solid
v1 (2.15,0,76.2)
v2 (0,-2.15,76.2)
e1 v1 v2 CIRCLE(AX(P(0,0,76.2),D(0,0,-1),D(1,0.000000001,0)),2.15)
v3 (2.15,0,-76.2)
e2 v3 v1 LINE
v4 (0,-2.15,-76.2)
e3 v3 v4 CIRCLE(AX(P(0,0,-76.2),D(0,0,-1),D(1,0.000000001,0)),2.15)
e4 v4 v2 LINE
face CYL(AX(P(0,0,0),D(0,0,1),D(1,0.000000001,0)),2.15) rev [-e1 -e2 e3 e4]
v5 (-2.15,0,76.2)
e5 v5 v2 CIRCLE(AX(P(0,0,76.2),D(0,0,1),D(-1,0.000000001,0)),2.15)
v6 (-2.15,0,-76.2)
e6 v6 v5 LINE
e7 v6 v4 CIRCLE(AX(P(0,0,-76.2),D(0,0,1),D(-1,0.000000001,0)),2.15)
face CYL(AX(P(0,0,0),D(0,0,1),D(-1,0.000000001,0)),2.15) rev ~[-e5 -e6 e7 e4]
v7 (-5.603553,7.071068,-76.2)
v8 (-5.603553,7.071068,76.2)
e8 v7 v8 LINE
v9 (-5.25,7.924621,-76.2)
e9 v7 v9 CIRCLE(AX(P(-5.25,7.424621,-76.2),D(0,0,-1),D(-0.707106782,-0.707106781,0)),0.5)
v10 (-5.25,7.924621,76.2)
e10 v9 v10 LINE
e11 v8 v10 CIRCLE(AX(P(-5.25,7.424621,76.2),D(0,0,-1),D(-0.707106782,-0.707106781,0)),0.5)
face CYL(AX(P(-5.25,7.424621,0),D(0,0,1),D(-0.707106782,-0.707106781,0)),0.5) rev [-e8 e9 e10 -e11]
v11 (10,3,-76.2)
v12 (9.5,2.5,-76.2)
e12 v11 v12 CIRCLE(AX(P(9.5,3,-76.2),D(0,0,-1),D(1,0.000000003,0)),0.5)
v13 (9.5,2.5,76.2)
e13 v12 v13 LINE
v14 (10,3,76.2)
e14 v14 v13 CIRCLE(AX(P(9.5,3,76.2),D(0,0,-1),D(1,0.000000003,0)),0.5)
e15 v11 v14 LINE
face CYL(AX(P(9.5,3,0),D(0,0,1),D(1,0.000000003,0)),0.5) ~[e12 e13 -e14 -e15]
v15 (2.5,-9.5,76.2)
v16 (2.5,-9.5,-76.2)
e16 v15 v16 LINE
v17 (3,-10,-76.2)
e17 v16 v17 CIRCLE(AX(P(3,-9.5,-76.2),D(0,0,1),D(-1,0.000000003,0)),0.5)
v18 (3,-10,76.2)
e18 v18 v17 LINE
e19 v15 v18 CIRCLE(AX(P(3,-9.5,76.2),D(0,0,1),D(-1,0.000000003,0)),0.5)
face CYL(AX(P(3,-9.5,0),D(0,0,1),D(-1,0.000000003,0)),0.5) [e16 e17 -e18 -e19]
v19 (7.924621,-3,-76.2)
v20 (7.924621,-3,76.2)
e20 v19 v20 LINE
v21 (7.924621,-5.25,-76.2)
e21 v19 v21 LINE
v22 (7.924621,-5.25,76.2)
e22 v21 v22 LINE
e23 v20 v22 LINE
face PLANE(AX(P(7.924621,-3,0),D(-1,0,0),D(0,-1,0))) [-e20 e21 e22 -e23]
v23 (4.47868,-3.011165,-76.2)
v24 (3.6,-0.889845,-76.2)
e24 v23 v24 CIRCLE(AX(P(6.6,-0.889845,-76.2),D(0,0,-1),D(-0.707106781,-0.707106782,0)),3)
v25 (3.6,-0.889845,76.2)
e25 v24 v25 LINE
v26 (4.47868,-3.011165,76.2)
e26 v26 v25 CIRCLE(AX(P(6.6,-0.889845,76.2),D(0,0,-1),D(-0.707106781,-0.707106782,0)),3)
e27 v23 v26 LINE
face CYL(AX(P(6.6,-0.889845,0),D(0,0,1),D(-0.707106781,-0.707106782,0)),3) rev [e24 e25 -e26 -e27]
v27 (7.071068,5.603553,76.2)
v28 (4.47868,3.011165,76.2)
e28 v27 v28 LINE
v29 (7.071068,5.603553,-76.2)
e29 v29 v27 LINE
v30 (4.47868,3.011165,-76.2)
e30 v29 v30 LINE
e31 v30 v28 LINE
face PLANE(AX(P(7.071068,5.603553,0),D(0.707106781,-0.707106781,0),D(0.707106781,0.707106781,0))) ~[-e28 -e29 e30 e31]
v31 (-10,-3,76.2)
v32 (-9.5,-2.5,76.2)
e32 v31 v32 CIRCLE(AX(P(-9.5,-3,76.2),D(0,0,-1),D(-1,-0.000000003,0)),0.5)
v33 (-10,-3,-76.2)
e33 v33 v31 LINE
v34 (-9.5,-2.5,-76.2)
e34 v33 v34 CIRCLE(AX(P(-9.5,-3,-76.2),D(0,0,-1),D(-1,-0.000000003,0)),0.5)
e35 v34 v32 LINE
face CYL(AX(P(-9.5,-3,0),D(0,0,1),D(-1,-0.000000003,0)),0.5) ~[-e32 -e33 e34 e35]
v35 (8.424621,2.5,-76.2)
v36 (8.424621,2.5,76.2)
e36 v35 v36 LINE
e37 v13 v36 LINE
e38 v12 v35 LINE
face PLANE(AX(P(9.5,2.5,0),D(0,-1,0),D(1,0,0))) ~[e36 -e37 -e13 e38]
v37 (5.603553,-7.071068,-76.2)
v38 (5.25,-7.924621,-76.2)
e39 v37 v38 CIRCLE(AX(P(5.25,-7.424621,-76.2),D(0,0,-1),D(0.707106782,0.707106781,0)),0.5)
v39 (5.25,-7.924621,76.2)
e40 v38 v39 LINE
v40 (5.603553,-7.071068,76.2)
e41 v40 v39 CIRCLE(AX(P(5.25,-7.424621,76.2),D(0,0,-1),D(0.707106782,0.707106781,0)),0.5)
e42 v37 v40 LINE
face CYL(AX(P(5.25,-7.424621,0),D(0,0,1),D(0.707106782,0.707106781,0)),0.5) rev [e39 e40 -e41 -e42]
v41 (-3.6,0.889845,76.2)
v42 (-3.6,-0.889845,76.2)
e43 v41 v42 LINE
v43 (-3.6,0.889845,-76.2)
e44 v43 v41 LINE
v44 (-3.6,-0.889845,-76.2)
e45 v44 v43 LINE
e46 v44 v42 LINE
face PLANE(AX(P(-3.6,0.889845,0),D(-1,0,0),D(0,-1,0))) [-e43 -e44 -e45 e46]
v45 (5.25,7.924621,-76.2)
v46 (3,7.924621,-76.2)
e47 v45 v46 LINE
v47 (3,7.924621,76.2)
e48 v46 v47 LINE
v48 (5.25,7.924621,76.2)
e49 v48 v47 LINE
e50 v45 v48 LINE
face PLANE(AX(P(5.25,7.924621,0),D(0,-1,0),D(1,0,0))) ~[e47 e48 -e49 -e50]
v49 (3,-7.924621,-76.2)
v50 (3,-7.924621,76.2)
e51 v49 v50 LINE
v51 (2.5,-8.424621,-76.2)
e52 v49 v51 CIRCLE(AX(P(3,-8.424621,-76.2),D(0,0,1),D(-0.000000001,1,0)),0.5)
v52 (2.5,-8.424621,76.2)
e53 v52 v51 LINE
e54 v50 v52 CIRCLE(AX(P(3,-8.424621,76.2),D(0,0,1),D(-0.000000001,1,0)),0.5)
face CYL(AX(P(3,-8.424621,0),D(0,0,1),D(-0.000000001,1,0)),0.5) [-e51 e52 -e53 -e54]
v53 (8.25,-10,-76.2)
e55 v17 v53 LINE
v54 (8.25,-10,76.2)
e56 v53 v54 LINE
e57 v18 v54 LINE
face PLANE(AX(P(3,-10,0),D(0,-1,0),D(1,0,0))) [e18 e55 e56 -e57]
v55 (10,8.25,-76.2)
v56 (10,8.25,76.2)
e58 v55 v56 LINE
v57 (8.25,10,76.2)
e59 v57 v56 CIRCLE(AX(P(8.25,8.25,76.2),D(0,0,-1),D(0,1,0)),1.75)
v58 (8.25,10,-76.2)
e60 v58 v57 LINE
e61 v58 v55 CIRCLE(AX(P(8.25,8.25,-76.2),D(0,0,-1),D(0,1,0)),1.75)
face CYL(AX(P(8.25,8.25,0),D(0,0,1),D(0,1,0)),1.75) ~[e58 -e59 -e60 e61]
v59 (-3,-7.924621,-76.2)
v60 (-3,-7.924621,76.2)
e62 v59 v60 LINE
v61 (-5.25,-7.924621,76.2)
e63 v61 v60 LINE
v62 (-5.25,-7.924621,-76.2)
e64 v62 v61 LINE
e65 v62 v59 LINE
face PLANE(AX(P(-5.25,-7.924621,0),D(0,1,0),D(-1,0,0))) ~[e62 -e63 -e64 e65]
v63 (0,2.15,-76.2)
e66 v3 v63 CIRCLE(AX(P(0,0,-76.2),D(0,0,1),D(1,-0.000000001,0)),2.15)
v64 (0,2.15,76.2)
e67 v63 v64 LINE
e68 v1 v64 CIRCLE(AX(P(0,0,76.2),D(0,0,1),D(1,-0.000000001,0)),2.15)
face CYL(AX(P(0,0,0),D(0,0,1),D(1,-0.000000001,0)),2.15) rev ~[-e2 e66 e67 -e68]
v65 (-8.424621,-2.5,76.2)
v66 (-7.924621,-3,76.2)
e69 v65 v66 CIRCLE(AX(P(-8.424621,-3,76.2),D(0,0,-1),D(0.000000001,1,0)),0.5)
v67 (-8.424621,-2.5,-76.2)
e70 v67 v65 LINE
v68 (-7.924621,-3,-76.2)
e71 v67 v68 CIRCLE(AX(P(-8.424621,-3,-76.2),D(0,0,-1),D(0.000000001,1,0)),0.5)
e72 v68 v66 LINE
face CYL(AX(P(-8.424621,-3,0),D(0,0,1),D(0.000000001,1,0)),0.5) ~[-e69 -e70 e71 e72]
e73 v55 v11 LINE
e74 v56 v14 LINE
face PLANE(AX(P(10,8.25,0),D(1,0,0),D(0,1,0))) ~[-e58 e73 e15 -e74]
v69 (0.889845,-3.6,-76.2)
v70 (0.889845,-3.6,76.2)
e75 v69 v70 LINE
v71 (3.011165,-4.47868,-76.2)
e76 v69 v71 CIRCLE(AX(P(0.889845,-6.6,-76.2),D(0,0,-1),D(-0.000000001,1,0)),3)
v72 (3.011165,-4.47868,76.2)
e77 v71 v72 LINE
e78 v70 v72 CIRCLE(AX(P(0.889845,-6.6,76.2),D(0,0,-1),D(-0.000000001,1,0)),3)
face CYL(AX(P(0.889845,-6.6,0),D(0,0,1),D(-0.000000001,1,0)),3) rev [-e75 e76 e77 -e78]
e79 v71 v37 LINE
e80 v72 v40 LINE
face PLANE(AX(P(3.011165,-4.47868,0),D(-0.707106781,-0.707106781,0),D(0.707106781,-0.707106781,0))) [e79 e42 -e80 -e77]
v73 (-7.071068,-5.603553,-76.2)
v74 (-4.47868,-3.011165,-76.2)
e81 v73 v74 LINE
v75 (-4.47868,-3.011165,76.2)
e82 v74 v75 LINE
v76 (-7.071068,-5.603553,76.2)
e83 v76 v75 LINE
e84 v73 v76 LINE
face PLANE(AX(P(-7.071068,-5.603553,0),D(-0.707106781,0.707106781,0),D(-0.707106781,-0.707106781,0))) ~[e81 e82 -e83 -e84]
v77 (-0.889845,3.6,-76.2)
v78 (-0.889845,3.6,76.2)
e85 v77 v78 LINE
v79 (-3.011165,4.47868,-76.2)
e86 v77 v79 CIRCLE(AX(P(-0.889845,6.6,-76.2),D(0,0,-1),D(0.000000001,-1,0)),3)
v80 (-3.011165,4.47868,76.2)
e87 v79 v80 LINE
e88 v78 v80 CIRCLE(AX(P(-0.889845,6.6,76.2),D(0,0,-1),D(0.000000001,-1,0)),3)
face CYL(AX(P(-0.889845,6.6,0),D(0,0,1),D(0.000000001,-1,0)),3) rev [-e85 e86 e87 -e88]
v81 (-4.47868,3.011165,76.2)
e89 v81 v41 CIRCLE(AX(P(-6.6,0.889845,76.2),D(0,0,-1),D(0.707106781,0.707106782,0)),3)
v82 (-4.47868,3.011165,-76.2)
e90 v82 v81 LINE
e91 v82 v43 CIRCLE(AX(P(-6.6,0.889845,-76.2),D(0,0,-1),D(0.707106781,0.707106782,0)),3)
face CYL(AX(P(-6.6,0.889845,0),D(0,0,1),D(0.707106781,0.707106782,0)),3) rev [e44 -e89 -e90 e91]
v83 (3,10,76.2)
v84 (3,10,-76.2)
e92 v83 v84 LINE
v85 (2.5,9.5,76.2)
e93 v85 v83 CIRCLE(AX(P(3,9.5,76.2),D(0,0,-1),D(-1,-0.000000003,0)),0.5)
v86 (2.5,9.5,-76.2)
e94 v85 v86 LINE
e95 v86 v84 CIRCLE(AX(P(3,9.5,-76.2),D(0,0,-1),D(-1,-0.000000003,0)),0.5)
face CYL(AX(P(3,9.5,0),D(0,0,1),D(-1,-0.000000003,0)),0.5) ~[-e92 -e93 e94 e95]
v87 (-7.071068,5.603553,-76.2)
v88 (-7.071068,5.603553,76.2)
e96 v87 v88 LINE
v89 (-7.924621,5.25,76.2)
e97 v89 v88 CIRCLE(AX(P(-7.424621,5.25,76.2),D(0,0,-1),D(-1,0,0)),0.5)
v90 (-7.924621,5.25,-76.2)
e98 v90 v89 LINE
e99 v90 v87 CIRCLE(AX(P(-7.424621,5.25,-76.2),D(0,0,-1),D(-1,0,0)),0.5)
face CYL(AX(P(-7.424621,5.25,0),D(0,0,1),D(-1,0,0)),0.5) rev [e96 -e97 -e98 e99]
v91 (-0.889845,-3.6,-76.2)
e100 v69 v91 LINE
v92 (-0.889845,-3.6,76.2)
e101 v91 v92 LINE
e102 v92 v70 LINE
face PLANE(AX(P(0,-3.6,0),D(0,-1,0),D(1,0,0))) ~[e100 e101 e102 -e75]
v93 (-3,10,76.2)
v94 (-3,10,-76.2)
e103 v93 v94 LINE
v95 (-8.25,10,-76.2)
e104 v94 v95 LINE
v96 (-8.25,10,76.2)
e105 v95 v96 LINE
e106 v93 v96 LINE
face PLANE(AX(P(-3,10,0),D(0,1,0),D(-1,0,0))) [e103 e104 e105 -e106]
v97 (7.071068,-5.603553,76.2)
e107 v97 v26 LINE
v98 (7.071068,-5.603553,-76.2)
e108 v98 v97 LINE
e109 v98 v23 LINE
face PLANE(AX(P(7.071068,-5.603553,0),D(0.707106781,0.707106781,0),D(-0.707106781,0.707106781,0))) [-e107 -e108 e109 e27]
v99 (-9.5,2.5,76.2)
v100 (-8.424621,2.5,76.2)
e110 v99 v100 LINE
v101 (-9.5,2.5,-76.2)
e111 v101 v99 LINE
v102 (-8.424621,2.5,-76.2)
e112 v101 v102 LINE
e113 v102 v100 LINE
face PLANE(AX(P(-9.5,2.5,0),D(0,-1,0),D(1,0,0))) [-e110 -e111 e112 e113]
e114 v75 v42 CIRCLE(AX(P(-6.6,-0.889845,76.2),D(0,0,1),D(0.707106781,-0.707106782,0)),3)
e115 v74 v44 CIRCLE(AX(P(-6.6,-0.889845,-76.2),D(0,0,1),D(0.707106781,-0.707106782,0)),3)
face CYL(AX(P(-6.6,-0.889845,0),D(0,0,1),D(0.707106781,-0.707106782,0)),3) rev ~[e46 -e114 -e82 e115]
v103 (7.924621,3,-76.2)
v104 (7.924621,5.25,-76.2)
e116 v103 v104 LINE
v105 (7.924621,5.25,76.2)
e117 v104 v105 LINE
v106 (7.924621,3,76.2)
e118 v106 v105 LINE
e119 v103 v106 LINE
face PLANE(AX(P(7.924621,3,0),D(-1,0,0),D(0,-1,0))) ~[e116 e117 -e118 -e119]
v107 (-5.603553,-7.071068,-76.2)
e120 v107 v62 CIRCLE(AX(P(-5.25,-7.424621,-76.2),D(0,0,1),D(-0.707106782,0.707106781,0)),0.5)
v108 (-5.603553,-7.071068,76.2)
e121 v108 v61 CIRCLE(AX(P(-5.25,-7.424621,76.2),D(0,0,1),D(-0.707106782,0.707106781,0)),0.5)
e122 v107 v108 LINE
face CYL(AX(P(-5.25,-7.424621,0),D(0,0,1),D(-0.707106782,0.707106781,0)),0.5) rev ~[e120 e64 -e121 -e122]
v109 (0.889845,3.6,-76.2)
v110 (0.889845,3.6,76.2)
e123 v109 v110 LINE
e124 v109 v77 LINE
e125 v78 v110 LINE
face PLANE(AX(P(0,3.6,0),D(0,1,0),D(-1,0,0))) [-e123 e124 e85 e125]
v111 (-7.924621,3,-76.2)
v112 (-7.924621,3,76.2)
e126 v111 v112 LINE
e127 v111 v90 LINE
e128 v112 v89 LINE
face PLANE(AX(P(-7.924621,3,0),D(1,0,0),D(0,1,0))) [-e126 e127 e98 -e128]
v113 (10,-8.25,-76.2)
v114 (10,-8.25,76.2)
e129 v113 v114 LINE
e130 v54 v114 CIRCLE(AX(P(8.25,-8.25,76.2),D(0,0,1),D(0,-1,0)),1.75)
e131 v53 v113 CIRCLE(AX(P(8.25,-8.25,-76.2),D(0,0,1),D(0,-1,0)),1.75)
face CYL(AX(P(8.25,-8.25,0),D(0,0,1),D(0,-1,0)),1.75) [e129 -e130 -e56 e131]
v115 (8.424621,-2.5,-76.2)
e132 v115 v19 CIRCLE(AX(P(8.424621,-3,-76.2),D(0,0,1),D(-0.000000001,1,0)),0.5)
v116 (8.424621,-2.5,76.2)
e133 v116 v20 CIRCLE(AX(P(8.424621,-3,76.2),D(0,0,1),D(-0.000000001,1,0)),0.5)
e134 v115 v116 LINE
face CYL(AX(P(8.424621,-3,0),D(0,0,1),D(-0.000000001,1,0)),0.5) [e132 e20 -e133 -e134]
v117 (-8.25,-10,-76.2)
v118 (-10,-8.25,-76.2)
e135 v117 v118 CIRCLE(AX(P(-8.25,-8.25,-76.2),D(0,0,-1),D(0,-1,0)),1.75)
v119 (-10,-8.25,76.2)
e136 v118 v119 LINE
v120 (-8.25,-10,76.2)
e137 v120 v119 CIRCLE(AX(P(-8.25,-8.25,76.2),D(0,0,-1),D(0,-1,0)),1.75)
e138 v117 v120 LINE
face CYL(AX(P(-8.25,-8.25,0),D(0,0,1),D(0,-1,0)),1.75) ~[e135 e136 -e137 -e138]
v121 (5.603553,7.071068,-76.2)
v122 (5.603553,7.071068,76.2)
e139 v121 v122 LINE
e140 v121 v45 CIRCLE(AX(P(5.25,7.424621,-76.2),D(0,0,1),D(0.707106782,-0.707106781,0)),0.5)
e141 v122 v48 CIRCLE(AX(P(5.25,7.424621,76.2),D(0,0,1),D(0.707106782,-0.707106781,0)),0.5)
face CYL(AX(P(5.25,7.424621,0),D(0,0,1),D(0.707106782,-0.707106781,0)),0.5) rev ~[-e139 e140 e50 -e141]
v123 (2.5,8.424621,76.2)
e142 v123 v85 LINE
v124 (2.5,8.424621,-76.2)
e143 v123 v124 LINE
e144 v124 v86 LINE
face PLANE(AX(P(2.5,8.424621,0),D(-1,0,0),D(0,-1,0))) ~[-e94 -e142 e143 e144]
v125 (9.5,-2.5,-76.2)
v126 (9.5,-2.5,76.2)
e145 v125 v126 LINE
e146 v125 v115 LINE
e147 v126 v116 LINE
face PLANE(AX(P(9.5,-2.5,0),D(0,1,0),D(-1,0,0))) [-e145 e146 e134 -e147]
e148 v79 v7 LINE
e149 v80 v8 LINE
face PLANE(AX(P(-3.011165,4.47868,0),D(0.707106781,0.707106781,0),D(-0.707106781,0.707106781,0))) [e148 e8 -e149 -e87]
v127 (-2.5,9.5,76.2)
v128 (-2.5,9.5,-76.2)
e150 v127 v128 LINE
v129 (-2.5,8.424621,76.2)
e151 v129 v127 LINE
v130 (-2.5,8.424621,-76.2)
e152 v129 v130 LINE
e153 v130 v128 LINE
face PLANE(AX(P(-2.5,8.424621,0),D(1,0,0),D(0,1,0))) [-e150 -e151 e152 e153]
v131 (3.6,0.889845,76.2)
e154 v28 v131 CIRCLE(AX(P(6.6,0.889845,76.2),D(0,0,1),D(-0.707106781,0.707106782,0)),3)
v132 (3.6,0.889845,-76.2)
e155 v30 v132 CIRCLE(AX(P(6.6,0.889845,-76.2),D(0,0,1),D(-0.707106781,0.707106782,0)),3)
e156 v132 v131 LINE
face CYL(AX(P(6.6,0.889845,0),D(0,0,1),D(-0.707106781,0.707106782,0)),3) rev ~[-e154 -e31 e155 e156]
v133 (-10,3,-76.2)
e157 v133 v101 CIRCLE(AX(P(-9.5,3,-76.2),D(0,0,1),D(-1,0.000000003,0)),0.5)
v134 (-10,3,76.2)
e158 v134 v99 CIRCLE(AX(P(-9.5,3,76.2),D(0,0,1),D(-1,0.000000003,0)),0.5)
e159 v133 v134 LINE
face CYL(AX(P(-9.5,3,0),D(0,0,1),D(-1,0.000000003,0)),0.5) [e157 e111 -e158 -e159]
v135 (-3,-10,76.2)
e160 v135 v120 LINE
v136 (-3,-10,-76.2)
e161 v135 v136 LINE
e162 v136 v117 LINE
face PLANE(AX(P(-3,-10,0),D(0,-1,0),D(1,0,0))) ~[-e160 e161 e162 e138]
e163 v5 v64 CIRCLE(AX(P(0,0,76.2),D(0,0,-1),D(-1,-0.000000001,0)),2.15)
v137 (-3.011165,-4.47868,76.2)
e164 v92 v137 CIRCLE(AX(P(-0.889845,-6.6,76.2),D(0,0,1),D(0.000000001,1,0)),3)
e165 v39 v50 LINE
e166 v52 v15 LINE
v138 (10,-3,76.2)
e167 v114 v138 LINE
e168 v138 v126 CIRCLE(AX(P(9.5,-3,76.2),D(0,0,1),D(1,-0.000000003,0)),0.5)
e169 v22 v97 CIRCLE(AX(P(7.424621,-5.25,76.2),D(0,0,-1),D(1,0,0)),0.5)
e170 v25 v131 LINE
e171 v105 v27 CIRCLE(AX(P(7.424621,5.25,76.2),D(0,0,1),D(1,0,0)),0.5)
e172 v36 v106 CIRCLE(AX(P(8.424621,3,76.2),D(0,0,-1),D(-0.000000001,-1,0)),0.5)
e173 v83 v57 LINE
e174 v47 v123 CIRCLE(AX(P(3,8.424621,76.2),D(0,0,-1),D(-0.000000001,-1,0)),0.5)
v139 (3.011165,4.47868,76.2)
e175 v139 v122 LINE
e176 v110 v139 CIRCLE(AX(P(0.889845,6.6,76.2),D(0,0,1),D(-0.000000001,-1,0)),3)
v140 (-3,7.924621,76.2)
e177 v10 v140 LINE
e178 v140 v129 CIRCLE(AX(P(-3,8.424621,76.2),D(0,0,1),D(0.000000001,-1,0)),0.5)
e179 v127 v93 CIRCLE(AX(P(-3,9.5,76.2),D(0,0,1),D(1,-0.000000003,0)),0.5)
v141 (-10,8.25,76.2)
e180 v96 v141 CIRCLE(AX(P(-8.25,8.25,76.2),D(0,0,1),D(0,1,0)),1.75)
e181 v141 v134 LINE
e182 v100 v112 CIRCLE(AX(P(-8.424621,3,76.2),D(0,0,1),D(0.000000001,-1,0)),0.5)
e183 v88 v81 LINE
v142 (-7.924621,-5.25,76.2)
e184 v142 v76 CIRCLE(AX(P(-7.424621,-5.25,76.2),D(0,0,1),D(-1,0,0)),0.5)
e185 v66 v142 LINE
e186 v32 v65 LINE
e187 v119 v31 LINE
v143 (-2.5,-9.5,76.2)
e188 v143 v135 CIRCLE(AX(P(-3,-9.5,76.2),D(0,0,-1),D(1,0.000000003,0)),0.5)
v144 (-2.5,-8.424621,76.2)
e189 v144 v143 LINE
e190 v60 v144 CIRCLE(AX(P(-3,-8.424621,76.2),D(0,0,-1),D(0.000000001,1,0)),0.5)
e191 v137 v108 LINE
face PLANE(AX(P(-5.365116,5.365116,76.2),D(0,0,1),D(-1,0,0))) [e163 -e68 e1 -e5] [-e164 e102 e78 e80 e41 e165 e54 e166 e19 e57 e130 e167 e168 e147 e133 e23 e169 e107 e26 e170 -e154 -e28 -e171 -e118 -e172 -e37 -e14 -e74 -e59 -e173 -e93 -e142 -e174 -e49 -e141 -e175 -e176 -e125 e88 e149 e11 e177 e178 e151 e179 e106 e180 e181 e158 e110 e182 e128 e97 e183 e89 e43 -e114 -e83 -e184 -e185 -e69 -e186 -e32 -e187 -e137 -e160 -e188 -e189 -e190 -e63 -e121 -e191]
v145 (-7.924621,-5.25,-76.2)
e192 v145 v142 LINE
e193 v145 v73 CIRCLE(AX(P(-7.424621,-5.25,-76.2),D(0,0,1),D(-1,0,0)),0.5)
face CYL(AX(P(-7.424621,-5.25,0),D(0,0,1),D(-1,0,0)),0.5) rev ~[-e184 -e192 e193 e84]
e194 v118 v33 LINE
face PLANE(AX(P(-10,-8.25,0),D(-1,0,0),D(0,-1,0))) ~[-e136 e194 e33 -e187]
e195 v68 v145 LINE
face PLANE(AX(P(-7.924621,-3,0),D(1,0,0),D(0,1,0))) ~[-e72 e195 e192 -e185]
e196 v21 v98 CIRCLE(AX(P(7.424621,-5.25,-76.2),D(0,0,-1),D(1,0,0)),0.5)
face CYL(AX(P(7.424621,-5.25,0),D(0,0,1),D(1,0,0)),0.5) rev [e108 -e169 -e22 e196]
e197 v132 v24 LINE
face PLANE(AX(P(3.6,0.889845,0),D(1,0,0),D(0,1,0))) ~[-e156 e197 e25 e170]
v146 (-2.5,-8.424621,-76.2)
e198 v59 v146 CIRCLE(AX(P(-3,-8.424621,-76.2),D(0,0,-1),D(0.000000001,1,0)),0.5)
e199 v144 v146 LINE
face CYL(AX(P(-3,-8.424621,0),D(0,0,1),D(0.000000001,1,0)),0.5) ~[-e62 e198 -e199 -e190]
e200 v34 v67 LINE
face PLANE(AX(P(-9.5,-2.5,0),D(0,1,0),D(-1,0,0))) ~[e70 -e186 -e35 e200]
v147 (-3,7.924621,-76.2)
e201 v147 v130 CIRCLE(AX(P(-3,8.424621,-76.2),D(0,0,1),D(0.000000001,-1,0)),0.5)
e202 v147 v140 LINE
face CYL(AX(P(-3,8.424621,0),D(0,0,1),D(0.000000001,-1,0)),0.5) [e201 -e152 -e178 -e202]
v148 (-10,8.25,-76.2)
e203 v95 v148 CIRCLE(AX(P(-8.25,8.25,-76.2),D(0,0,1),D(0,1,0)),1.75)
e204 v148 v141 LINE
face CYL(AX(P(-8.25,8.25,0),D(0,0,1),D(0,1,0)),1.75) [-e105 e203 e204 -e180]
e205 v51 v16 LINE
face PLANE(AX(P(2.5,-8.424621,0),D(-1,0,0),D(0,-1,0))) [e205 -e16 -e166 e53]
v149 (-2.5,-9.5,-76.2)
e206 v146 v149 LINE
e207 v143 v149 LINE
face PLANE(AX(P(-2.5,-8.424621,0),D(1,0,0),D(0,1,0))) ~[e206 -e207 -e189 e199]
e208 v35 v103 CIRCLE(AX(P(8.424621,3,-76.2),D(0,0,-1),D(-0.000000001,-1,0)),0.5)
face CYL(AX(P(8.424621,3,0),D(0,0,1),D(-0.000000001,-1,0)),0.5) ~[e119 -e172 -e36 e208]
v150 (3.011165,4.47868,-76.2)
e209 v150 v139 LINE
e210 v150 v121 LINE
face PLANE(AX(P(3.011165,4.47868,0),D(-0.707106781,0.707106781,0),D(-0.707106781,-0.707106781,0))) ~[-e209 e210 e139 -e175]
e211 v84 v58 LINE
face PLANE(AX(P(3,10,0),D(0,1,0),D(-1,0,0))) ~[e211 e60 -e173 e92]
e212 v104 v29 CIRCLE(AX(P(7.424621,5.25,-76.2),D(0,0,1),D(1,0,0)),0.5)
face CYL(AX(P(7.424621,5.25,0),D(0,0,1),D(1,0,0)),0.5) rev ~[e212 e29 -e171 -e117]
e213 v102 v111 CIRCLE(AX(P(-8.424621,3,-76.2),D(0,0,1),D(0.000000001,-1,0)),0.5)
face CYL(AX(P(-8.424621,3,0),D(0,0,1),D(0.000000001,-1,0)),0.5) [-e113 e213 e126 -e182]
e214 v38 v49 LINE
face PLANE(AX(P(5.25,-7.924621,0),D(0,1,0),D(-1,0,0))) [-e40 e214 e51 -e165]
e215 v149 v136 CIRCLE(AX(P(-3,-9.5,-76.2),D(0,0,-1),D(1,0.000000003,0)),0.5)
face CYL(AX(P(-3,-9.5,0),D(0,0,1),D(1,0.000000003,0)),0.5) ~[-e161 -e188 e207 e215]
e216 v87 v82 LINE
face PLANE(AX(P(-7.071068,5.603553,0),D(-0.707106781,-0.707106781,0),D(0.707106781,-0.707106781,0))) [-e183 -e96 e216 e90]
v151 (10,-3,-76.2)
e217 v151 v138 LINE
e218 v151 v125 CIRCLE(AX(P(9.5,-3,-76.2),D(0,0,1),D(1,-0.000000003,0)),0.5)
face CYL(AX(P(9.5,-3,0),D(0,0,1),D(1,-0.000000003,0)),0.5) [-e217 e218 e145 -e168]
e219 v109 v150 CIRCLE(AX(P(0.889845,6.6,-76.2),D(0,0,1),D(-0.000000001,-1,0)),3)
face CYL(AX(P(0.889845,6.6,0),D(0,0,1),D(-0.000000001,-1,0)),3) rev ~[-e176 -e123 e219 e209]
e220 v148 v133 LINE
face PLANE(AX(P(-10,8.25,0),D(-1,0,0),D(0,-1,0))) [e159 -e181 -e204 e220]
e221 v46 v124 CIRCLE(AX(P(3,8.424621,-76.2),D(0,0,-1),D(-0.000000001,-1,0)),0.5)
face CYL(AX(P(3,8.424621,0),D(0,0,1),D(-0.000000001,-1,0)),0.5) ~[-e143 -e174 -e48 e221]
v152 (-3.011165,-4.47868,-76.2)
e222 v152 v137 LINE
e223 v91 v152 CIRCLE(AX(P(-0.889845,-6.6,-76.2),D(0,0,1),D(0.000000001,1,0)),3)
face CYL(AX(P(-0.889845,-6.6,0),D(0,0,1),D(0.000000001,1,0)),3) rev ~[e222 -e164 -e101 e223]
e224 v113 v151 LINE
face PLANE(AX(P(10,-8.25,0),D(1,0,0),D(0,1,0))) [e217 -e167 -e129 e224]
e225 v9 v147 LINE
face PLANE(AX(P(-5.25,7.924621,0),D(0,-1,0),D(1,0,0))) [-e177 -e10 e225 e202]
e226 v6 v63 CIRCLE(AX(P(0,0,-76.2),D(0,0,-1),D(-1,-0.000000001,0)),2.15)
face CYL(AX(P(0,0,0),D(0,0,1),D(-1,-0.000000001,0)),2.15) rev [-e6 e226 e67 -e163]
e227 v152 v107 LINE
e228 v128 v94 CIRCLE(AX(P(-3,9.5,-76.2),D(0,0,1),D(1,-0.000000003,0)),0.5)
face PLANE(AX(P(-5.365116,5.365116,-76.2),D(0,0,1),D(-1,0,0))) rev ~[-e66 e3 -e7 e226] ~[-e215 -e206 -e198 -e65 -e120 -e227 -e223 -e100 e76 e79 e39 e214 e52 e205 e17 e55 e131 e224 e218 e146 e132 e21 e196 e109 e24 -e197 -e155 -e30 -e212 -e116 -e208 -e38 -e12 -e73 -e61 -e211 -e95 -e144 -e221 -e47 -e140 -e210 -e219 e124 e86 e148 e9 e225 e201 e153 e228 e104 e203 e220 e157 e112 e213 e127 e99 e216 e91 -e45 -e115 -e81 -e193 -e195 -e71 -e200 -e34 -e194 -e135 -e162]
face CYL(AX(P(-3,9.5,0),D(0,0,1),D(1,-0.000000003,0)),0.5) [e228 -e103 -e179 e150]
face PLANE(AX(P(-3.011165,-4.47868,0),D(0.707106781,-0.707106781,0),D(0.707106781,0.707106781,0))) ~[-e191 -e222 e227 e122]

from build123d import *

# Parameters (mm, degrees)
BOSS_EXTRUDE1_DEPTH = 76.2


with BuildPart() as part:
    # Sketch4 → Boss-Extrude1 (new, symmetric)
    with BuildSketch(Plane.XY):
        with BuildLine():
            Line((3, -10), (8.25, -10))
            ThreePointArc((8.25, -10), (9.487436867, -9.487436867), (10, -8.25))
            Line((10, -8.25), (10, -3))
            ThreePointArc((10, -3), (9.853553391, -2.646446609), (9.5, -2.5))
            Line((9.5, -2.5), (8.424621202, -2.5))
            ThreePointArc((8.424621202, -2.5), (8.071067812, -2.646446609), (7.924621202, -3))
            Line((7.924621202, -3), (7.924621202, -5.25))
            ThreePointArc((7.924621202, -5.25), (7.615962919, -5.711939766), (7.071067812, -5.603553391))
            Line((7.071067812, -5.603553391), (4.478679656, -3.011165235))
            ThreePointArc((4.478679656, -3.011165235), (3.828361402, -2.037895189), (3.6, -0.889844892))
            Line((3.6, -0.889844892), (3.6, 0))
            Line((3.6, 0), (2.15, 0))
            ThreePointArc((2.15, 0), (1.52027958, -1.52027958), (0, -2.15))
            Line((0, -2.15), (0, -3.6))
            Line((0, -3.6), (0.889844892, -3.6))
            ThreePointArc((0.889844892, -3.6), (2.037895189, -3.828361402), (3.011165235, -4.478679656))
            Line((3.011165235, -4.478679656), (5.603553391, -7.071067812))
            ThreePointArc((5.603553391, -7.071067812), (5.711939766, -7.615962919), (5.25, -7.924621202))
            Line((5.25, -7.924621202), (3, -7.924621202))
            ThreePointArc((3, -7.924621202), (2.646446609, -8.071067812), (2.5, -8.424621202))
            Line((2.5, -8.424621202), (2.5, -9.5))
            ThreePointArc((2.5, -9.5), (2.646446609, -9.853553391), (3, -10))
        make_face()
    extrude(amount=BOSS_EXTRUDE1_DEPTH, both=True)

    # Mirror1: part across plane


with BuildPart() as part_1:
    add(part.part)
    add(part.part.mirror(Plane(origin=(0, 0, 0), x_dir=(0, 0, 1), z_dir=(1, 0, 0))))

    # Mirror2: part across plane


with BuildPart() as part_2:
    add(part_1.part)
    add(part_1.part.mirror(Plane.ZX))


solid = part_2.part
